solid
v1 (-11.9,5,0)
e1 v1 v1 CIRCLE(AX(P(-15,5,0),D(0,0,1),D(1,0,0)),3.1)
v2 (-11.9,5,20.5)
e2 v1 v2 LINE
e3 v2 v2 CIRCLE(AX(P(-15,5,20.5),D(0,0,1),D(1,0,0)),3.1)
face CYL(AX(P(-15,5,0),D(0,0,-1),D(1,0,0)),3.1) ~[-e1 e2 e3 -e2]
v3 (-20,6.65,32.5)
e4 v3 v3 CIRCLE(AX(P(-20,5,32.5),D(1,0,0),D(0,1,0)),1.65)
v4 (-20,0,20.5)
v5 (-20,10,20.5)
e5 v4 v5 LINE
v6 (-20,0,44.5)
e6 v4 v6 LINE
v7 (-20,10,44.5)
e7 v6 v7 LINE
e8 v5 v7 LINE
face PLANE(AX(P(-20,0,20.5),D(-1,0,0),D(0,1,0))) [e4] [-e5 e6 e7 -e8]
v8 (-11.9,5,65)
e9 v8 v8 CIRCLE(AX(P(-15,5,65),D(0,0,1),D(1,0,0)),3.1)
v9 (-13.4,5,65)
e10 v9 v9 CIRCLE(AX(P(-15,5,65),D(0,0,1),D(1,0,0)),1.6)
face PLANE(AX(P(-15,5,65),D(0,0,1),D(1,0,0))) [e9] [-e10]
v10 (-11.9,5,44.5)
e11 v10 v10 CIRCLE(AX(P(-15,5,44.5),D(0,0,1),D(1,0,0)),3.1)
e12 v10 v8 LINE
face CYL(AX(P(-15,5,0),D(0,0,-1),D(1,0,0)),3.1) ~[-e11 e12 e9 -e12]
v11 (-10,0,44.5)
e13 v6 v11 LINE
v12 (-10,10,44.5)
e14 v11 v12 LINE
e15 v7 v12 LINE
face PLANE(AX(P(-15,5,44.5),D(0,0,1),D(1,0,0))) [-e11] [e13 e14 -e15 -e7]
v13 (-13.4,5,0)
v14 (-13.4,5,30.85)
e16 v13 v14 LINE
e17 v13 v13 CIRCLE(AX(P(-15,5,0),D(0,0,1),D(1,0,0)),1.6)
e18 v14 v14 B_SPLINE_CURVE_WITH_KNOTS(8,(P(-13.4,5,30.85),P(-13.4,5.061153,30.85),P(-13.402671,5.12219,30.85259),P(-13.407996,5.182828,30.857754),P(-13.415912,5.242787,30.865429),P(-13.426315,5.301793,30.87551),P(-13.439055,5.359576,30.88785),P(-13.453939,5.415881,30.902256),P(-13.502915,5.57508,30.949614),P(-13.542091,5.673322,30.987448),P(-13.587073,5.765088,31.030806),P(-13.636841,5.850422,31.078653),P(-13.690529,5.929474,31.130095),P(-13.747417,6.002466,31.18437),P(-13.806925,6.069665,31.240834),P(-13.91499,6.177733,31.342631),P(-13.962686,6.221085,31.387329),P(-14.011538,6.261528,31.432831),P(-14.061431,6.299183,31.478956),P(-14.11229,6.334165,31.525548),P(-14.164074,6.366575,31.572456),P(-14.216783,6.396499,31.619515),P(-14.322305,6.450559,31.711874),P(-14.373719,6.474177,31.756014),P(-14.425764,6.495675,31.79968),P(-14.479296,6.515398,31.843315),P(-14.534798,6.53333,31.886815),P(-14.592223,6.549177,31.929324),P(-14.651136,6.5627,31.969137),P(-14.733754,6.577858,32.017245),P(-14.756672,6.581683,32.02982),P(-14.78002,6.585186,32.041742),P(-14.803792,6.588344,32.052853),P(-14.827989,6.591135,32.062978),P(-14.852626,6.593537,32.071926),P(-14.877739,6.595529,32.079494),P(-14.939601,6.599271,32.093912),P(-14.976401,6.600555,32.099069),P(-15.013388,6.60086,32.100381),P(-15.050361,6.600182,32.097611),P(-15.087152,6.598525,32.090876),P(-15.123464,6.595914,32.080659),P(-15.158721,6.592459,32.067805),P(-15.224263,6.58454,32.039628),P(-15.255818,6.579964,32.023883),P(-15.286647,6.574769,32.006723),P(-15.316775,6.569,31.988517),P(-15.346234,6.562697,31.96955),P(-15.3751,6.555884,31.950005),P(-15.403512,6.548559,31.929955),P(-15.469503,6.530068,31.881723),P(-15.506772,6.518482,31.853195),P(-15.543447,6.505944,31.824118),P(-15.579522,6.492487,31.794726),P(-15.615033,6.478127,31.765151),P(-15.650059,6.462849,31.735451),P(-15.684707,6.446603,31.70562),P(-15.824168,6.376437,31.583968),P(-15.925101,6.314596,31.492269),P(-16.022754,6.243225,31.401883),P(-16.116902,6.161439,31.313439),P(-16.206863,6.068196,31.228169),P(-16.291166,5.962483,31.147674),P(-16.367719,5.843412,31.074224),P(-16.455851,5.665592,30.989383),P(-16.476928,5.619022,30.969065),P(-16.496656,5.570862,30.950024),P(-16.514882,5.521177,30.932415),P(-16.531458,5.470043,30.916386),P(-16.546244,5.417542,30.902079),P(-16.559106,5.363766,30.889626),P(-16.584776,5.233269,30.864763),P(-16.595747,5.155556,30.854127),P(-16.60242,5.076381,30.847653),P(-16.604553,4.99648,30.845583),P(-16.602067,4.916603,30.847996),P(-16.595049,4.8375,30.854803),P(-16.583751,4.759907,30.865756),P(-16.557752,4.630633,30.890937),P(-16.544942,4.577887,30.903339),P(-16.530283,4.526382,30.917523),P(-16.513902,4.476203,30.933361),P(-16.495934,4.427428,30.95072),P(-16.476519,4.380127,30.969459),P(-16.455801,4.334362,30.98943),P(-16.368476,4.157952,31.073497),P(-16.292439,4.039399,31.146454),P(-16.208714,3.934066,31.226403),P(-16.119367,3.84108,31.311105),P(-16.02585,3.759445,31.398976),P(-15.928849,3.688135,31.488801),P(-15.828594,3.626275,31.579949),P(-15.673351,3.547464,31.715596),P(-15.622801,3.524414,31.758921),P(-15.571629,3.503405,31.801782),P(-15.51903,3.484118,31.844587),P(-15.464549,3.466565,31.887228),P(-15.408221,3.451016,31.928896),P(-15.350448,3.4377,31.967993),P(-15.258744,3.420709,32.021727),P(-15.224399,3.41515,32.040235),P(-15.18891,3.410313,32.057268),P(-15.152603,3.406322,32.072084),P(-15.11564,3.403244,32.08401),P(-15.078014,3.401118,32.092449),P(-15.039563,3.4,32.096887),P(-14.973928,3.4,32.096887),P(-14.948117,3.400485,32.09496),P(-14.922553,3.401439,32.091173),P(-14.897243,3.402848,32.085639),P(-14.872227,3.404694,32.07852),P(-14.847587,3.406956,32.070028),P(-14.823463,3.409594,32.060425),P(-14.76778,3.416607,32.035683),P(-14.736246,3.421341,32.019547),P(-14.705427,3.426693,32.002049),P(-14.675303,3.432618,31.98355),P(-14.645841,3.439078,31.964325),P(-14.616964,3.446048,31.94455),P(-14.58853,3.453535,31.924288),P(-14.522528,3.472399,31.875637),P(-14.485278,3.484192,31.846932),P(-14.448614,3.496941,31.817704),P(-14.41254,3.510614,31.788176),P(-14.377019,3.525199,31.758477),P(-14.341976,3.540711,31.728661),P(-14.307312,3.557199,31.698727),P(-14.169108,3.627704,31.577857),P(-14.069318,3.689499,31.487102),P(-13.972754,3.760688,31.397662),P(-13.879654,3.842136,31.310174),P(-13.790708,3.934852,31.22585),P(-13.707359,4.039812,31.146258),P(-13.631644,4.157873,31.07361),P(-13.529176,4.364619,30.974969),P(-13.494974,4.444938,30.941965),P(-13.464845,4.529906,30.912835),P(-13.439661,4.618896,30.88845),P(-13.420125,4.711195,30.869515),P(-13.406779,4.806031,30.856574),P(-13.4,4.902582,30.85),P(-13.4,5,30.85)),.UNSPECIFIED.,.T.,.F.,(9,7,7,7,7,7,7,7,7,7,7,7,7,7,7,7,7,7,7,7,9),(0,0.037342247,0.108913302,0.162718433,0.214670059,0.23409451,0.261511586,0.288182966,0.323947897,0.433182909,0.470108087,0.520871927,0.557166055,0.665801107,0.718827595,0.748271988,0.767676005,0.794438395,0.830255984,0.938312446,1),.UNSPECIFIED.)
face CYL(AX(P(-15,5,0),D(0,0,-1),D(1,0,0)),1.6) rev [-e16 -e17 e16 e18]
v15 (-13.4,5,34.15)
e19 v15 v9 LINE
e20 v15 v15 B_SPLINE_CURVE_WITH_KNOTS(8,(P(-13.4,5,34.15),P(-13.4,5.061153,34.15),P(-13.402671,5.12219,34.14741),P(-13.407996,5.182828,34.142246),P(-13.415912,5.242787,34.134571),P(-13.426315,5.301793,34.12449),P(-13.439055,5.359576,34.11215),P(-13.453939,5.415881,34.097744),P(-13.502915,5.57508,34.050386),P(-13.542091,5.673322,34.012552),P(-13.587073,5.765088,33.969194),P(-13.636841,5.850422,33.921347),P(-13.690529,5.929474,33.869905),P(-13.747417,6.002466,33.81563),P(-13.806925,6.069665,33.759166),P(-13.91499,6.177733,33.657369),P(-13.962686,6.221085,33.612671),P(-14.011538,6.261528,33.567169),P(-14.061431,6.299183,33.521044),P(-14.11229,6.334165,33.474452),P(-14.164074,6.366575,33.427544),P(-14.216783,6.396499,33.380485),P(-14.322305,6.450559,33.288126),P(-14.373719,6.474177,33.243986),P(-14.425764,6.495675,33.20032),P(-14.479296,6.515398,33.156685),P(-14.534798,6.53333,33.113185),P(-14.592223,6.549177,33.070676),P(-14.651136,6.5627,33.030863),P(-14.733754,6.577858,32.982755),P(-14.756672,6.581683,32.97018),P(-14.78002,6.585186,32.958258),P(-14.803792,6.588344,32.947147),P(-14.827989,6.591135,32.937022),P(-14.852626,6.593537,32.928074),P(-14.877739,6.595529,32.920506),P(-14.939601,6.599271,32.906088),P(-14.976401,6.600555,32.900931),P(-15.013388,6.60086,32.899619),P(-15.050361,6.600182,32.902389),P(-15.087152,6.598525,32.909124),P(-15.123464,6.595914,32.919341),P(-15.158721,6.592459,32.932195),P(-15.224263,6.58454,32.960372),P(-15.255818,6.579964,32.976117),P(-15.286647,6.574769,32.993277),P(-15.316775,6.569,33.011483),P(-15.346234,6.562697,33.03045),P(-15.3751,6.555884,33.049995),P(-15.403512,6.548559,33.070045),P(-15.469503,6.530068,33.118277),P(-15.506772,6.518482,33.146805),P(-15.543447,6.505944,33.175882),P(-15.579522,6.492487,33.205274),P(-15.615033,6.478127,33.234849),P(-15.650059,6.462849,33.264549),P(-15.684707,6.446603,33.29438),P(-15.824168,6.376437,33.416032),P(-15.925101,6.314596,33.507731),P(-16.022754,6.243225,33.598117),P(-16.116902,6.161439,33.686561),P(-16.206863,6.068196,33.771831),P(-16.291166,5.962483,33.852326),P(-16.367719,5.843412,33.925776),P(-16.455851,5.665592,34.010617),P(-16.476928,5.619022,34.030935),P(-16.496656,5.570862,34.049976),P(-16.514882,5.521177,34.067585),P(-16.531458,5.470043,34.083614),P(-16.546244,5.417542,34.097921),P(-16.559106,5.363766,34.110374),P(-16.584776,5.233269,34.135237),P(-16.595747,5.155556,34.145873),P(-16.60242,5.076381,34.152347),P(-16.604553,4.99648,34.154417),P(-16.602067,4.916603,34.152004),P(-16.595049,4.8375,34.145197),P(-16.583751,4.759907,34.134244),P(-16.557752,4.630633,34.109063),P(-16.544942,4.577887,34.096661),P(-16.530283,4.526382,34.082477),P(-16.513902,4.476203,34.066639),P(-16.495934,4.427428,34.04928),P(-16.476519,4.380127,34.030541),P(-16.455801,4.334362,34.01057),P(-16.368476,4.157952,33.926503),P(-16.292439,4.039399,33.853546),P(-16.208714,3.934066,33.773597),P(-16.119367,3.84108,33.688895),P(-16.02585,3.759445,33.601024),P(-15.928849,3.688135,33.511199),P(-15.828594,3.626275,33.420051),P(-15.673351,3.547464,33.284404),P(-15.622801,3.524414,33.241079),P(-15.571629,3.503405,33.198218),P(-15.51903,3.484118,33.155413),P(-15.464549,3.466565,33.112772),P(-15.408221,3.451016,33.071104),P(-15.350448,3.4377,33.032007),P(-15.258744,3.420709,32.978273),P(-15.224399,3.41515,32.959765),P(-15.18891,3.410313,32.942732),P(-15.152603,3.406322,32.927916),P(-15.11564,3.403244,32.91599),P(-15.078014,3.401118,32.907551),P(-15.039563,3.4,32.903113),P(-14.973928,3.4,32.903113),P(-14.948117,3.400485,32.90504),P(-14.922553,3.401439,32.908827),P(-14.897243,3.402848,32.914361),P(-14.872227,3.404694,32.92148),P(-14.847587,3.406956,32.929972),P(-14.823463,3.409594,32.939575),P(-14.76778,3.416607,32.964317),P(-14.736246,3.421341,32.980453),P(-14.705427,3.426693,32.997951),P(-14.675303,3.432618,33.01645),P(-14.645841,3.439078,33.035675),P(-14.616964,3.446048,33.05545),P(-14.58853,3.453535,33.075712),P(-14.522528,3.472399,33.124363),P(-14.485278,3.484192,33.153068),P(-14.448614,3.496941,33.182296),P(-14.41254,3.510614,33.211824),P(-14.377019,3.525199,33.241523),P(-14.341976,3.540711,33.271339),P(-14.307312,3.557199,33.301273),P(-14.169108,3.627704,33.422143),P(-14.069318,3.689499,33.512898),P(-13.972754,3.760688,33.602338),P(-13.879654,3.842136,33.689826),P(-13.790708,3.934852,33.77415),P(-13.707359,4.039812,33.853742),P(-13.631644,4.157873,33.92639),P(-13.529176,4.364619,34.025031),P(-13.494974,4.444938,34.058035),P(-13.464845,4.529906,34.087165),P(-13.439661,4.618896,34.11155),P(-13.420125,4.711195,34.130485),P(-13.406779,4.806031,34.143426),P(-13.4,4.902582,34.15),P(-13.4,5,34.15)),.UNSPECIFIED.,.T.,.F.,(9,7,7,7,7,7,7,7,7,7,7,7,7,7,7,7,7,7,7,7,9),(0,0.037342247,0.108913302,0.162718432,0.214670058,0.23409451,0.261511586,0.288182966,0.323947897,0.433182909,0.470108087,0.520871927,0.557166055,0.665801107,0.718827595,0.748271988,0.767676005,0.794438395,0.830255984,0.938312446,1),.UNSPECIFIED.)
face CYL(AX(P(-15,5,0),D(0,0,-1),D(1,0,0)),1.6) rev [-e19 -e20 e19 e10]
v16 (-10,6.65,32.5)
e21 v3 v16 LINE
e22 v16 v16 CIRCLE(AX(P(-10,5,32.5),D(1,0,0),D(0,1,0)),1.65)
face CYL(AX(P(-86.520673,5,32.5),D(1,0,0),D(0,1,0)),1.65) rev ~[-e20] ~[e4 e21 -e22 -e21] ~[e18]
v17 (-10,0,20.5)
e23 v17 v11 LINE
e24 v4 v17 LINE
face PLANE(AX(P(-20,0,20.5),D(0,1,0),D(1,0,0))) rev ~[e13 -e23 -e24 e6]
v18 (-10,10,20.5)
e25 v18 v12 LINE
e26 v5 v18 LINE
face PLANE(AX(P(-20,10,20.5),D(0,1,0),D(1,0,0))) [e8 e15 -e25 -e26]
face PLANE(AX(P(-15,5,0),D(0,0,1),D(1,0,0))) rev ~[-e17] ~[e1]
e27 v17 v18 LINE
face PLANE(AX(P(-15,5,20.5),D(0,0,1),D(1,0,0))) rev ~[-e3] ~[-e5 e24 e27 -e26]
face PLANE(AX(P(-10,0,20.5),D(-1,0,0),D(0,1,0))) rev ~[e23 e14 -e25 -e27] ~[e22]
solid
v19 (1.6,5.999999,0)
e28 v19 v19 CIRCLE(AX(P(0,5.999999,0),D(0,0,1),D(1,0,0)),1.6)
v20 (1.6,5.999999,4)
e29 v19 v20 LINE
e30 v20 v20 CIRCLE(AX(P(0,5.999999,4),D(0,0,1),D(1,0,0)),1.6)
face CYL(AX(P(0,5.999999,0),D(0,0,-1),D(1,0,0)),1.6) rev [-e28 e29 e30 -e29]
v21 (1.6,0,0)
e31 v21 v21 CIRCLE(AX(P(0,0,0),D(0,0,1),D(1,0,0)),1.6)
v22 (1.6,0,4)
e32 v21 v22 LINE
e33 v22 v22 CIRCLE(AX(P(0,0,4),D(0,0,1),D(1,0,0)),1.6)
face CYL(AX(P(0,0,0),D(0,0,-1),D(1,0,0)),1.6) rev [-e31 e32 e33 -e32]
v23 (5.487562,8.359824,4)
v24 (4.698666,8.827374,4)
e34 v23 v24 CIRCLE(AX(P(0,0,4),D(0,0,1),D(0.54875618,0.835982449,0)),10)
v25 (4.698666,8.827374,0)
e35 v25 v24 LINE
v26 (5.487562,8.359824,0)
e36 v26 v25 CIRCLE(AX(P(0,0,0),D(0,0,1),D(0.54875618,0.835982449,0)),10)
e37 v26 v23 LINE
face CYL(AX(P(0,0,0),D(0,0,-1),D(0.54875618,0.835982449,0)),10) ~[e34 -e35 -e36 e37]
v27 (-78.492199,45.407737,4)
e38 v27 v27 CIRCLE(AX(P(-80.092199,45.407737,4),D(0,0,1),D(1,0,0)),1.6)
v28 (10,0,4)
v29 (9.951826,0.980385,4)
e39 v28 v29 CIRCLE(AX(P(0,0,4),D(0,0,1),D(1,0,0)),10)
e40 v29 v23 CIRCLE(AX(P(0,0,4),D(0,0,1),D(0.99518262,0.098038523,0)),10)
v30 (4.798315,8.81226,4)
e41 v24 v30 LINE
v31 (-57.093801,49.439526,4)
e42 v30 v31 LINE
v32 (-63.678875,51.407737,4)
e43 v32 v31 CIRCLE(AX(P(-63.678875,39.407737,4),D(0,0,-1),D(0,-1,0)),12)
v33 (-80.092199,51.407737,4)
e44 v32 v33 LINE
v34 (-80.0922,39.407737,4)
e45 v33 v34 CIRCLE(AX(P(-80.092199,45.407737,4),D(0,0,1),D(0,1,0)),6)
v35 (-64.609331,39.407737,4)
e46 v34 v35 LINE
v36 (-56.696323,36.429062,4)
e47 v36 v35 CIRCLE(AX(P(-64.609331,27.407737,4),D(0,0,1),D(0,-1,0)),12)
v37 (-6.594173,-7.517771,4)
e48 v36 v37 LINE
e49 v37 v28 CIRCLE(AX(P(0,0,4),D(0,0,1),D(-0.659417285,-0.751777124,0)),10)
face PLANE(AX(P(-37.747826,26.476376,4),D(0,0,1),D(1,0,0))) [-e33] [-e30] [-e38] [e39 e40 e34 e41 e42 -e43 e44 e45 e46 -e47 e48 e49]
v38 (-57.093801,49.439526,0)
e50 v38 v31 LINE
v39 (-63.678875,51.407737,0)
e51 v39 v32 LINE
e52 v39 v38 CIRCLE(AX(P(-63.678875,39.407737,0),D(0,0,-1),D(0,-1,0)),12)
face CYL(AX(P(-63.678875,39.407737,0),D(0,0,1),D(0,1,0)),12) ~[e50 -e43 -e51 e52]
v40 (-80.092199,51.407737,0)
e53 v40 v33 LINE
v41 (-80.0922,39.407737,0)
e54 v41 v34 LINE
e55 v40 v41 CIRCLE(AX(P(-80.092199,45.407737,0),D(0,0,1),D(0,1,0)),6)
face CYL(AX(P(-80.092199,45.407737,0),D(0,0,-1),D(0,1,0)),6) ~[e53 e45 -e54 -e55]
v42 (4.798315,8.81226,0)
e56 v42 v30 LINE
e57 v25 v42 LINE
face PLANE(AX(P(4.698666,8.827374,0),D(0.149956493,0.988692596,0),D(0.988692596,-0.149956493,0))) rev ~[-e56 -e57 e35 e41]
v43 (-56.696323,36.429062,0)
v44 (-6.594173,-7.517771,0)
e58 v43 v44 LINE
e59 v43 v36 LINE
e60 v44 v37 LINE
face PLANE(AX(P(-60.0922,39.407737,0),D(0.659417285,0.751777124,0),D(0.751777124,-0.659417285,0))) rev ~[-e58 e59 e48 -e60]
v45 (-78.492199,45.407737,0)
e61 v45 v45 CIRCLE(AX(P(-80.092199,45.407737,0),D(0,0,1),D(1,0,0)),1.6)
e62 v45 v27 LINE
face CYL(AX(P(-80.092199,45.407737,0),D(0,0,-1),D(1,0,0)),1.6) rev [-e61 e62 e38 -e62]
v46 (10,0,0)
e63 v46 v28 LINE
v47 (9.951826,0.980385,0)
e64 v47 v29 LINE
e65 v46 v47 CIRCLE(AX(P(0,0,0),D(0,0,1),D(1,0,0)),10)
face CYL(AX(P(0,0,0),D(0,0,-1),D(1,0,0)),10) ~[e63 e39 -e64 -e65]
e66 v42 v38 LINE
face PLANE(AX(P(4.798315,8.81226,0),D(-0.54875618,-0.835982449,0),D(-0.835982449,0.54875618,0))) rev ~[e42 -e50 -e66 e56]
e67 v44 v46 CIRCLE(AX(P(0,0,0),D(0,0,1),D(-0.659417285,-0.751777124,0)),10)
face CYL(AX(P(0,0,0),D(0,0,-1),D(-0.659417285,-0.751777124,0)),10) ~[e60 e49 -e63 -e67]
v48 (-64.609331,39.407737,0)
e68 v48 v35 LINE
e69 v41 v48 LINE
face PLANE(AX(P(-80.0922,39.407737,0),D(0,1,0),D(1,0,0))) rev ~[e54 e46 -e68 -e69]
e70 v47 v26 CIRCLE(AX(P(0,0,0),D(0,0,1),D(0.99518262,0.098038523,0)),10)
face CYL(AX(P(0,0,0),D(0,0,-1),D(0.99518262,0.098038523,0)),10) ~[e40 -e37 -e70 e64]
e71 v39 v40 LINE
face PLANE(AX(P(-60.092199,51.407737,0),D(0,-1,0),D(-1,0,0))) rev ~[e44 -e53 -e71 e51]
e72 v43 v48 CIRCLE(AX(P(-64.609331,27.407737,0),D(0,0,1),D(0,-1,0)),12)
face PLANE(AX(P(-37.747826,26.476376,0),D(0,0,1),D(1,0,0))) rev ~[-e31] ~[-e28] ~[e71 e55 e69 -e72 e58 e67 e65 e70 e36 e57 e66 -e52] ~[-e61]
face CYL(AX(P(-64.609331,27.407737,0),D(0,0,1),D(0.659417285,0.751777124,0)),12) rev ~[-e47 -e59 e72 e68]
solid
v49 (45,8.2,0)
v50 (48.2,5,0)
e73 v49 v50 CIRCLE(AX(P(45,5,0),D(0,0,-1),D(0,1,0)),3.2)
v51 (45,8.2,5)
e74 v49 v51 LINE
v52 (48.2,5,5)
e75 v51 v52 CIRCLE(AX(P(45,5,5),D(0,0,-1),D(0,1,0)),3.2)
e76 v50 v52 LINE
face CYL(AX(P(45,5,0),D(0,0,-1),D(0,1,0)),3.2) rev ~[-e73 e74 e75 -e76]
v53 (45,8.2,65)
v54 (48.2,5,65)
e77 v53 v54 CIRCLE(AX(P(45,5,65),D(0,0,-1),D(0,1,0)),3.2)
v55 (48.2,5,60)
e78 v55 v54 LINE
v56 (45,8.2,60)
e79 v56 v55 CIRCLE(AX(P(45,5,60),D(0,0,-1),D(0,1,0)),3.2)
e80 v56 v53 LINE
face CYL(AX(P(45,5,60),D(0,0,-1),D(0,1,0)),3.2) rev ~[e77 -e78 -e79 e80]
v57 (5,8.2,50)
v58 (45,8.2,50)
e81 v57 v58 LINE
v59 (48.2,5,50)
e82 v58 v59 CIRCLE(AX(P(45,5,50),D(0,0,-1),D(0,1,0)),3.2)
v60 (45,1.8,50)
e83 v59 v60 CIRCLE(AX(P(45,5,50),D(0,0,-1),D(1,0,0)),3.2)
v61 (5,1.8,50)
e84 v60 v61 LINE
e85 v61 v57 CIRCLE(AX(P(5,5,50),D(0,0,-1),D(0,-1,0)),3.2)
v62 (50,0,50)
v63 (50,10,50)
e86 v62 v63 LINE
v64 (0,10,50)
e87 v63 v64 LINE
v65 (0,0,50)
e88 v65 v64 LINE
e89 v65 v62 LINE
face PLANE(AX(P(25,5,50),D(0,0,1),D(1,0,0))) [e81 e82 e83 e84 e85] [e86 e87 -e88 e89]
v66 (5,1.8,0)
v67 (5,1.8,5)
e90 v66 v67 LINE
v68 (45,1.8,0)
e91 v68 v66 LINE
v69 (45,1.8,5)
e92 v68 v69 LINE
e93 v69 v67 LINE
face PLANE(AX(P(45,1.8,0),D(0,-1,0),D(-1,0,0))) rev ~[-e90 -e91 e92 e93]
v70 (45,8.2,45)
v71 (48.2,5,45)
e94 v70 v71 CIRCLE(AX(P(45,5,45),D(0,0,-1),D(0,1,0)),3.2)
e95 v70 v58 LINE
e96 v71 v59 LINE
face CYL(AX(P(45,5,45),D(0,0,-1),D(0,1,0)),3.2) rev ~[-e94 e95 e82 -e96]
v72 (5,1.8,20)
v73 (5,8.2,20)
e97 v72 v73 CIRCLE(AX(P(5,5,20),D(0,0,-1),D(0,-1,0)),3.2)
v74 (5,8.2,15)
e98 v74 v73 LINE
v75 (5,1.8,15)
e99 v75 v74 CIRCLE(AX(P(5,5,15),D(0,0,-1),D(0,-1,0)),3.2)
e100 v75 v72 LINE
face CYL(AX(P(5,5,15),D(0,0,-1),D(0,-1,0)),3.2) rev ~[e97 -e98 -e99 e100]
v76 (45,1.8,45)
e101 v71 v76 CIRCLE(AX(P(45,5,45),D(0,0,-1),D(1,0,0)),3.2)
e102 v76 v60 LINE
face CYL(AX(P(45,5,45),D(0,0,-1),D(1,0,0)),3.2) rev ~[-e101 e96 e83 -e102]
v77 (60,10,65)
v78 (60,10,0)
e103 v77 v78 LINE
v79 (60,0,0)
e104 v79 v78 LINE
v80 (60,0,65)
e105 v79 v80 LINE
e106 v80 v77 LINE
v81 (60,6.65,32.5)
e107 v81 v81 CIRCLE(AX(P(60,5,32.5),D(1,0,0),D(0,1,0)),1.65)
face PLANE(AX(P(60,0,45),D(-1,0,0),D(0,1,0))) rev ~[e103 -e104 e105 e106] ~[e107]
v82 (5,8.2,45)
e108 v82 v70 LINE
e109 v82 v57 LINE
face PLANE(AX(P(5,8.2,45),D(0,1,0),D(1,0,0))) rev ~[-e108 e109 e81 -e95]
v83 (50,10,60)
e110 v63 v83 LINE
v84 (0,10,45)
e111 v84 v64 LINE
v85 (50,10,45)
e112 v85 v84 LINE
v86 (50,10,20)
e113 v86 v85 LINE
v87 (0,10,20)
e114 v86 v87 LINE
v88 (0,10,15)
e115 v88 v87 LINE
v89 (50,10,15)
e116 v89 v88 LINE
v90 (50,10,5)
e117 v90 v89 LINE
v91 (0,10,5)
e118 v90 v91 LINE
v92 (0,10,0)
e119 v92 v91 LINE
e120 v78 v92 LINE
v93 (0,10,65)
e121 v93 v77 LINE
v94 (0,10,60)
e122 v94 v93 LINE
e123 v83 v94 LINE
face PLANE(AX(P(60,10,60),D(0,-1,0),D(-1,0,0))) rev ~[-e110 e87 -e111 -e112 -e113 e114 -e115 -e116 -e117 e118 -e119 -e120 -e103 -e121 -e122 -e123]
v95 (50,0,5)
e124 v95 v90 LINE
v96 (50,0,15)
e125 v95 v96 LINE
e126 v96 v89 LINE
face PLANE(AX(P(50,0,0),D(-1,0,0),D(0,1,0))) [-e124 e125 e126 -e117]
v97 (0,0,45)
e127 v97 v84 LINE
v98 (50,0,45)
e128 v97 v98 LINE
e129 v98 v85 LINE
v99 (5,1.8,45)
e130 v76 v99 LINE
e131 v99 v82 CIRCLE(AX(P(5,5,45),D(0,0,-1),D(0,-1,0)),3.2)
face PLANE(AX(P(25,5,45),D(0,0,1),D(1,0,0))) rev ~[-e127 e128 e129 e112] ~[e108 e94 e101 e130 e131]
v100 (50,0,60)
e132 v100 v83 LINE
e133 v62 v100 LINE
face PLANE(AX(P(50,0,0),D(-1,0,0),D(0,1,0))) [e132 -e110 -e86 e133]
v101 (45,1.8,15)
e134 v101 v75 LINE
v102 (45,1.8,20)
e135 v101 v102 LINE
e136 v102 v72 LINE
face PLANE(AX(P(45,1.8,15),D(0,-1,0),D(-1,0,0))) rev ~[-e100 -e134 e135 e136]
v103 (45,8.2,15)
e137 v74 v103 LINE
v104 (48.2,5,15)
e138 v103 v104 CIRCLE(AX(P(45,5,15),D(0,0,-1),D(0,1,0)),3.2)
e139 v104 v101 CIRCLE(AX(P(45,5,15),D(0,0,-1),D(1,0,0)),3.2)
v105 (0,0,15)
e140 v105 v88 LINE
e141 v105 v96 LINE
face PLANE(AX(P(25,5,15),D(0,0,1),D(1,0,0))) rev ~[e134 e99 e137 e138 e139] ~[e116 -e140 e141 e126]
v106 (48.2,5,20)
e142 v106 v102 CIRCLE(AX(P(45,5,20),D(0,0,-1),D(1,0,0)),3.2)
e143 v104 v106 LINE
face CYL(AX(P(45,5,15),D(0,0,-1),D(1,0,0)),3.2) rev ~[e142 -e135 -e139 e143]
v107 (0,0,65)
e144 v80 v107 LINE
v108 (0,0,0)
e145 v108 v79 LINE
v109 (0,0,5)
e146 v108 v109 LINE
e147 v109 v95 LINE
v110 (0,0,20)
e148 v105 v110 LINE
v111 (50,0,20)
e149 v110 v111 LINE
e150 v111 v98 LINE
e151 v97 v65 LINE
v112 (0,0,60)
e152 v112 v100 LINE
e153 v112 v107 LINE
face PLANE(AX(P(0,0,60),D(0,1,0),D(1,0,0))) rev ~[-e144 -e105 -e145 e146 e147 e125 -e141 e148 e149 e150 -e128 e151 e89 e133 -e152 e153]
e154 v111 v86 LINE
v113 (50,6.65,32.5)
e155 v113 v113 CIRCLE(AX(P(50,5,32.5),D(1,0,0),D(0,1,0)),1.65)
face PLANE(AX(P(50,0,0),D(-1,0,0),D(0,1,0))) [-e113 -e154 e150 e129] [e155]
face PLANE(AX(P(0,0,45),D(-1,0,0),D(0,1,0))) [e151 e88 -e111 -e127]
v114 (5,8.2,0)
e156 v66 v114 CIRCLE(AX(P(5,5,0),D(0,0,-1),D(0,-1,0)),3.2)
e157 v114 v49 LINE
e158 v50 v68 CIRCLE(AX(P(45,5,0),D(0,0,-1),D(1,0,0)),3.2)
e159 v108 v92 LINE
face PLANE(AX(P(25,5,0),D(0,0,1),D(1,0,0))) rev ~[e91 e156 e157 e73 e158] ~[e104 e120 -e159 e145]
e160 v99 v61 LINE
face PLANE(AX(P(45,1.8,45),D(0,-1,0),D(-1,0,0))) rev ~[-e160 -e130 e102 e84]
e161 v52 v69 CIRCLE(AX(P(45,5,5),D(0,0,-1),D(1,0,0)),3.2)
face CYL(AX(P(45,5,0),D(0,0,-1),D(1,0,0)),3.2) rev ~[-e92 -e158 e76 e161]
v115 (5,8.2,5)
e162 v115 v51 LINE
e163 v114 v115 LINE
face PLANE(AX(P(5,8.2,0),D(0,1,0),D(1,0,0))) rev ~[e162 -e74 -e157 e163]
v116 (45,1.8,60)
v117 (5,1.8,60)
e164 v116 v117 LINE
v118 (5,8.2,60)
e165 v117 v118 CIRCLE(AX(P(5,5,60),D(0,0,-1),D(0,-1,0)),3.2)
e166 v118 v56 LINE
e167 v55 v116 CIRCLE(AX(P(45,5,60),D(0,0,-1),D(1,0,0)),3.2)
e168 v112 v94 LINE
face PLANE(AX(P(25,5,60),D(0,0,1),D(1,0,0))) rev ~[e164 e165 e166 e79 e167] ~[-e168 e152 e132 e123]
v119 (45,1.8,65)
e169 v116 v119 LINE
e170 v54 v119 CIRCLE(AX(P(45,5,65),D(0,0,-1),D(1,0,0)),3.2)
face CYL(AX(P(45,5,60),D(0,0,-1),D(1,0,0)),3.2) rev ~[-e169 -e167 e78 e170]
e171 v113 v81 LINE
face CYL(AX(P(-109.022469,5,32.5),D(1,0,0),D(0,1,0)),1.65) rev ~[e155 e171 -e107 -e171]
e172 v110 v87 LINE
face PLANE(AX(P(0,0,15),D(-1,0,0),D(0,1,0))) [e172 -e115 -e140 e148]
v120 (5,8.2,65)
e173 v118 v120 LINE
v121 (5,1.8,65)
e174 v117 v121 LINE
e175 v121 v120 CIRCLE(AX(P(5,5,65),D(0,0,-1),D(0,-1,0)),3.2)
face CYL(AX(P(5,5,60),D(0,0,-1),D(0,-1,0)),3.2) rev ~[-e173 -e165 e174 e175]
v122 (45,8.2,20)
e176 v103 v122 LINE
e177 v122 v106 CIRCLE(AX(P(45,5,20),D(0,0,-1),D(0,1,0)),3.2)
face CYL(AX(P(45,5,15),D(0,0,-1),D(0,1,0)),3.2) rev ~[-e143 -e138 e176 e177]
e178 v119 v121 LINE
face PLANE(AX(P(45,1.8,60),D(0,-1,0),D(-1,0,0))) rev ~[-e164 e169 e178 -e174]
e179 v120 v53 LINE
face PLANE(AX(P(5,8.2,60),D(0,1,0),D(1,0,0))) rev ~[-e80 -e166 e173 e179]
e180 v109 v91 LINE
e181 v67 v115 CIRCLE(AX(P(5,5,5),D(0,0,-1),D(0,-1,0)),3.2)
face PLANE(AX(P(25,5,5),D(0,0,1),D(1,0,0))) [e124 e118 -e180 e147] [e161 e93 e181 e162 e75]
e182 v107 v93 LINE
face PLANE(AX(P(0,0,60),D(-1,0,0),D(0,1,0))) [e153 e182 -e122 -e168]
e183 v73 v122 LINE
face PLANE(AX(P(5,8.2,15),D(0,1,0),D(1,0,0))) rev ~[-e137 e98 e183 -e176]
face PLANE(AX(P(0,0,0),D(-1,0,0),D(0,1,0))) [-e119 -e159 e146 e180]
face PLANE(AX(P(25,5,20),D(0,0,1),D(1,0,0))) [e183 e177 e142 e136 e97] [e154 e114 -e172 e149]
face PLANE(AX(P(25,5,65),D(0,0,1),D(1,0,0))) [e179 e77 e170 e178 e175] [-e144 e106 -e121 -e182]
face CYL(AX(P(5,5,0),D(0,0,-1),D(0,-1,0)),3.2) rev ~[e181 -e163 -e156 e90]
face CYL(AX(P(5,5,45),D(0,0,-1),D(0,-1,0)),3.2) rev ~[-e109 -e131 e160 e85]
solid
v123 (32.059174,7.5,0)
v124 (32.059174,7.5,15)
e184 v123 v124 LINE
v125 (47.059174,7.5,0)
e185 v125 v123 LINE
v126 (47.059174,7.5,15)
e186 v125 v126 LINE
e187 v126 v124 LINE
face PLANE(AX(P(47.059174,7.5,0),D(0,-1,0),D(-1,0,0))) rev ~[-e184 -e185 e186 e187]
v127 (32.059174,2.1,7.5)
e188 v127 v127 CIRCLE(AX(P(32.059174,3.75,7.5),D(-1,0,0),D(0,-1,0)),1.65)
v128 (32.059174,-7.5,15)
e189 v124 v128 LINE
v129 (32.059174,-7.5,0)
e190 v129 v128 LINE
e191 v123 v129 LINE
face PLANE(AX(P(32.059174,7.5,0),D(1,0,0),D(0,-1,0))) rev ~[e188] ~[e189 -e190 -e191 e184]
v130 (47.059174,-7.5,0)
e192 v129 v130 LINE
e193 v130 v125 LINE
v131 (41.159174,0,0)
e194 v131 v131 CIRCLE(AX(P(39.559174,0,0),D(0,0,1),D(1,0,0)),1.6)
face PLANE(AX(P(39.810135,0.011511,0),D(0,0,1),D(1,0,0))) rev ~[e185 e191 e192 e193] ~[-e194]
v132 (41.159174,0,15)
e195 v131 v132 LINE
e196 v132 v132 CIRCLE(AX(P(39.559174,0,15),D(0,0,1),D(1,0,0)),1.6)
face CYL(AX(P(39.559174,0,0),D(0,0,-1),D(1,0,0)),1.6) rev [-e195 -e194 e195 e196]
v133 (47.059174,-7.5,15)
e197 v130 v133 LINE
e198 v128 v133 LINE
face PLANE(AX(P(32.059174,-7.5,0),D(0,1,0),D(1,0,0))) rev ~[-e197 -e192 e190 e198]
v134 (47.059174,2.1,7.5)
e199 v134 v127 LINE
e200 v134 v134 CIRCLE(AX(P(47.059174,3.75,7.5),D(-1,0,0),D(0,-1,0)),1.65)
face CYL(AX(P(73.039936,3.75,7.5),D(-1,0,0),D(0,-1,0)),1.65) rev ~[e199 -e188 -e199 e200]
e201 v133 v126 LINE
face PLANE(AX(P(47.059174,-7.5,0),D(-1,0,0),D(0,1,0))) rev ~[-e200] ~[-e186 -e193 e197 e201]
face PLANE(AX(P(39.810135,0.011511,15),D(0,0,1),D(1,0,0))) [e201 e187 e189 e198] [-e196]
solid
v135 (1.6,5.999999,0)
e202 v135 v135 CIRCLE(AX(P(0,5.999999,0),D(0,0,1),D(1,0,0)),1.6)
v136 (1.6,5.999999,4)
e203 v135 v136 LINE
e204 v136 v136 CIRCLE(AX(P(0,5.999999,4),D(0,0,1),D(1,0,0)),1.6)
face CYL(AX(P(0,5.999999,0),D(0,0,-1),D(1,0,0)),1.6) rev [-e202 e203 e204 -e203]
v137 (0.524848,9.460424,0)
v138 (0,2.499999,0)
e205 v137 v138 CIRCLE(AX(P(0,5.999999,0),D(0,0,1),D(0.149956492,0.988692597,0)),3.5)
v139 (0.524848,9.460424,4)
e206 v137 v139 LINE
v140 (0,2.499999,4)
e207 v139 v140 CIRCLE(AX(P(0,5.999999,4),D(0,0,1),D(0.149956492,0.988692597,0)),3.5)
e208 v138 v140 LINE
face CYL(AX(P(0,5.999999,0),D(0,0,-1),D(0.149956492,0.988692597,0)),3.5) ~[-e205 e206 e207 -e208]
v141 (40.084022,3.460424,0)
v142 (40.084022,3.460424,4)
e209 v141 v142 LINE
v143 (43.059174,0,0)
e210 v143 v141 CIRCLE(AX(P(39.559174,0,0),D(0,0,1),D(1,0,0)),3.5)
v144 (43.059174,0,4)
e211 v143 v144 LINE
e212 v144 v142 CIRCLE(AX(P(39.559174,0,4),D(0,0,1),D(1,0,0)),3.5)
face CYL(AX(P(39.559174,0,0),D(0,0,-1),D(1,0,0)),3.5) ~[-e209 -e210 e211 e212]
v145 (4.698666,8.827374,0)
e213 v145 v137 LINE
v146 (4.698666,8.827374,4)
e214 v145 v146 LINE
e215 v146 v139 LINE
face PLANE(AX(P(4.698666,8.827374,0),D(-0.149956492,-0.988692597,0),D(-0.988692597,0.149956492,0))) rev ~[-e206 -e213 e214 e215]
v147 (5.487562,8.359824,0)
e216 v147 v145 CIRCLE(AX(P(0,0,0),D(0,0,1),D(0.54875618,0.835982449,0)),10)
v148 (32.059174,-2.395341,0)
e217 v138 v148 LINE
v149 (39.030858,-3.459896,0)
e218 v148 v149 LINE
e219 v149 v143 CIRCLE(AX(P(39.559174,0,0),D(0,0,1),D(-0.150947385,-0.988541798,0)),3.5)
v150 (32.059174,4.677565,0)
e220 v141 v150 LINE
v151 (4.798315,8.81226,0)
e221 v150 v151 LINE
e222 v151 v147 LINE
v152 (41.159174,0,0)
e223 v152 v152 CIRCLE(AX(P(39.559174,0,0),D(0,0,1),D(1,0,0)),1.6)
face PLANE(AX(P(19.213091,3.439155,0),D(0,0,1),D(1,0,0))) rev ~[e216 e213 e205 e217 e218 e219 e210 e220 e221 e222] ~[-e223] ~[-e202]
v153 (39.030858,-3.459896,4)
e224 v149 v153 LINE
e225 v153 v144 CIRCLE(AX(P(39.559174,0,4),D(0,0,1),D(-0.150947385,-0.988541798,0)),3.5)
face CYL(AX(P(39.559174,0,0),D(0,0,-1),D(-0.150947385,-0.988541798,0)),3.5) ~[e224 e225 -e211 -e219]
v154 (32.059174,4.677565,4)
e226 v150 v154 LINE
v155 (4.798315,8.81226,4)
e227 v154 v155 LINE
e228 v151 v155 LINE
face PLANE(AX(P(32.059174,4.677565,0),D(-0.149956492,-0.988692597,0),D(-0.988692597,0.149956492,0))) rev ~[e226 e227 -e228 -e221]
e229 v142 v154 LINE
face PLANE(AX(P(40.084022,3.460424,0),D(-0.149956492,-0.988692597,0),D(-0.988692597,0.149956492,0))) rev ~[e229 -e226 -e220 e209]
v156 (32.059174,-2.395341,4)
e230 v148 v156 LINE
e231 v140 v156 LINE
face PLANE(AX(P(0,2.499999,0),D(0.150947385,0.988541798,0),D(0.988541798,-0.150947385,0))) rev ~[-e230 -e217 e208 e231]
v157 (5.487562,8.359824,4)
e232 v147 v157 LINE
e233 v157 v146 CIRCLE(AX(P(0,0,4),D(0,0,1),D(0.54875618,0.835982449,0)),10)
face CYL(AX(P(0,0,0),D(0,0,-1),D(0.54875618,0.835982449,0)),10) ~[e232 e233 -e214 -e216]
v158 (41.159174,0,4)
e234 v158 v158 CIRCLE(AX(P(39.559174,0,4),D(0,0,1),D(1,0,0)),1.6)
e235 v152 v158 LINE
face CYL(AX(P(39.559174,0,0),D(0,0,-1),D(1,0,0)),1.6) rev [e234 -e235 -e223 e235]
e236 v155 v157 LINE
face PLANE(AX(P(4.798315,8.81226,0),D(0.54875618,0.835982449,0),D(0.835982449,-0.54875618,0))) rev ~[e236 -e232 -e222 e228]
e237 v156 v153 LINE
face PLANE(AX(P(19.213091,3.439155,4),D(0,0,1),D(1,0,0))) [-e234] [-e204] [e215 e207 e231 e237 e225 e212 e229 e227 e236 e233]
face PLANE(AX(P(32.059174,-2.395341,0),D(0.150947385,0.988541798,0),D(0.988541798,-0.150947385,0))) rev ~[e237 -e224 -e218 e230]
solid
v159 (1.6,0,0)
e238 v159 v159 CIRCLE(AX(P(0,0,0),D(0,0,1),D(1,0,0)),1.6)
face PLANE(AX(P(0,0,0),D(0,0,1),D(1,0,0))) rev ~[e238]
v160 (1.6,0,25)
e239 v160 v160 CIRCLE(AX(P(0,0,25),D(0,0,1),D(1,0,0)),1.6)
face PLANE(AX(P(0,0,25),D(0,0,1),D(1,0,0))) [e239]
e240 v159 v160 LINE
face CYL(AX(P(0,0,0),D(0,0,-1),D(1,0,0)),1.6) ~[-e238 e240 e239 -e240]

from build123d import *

# Parameters (mm, degrees)
F0_W      = 10
F0_H      = 10
F1_DEPTH  = 65
F0_W_2    = 50
F2_DEPTH  = 5
F3_START  = 15
F3_DEPTH  = 5
F4_START  = 45
F4_DEPTH  = 5
F5_START  = 60
F5_DEPTH  = 5
F0_R      = 3.1
F0_R_2    = 1.6
F6_DEPTH  = 65
F7_START  = 20.5
F7_DEPTH  = 24
F9_D      = 3.3
F9_2_D    = 3.3
F10_R     = 1.6
F11_DEPTH = 4
F12_DEPTH = 4
F13_DEPTH = 15
F15_D     = 3.3
F16_DEPTH = 25
F17_R     = 12


with BuildPart() as f1:
    # F0 (on Top) → F1 (new body)
    with BuildSketch(Plane.XY):
        with Locations((55, 5)):
            Rectangle(F0_W, F0_H)
    extrude(amount=F1_DEPTH)

    # F0 (on Top) → F2 (join)
    with BuildSketch(Plane.XY):
        with Locations((25, 5)):
            Rectangle(F0_W_2, F0_H)
        with BuildLine():
            ThreePointArc((5, 1.7999998882), (1.8, 4.9999998882), (5, 8.1999998882))
            Line((5, 8.1999998882), (45, 8.1999998882))
            ThreePointArc((45, 8.1999998882), (47.2627416998, 7.262741588), (48.2, 4.9999998882))
            ThreePointArc((48.2, 4.9999998882), (47.2627416998, 2.7372581884), (45, 1.7999998882))
            Line((45, 1.7999998882), (5, 1.7999998882))
        make_face(mode=Mode.SUBTRACT)
        with Locations((55, 5)):
            Rectangle(F0_W, F0_H)
    extrude(amount=F2_DEPTH)

    # F0 (on Top) → F3 (join)
    with BuildSketch(Plane.XY.offset(F3_START)):
        with Locations((25, 5)):
            Rectangle(F0_W_2, F0_H)
        with BuildLine():
            ThreePointArc((5, 1.7999998882), (1.8, 4.9999998882), (5, 8.1999998882))
            Line((5, 8.1999998882), (45, 8.1999998882))
            ThreePointArc((45, 8.1999998882), (47.2627416998, 7.262741588), (48.2, 4.9999998882))
            ThreePointArc((48.2, 4.9999998882), (47.2627416998, 2.7372581884), (45, 1.7999998882))
            Line((45, 1.7999998882), (5, 1.7999998882))
        make_face(mode=Mode.SUBTRACT)
        with Locations((55, 5)):
            Rectangle(F0_W, F0_H)
    extrude(amount=F3_DEPTH)

    # F0 (on Top) → F4 (join)
    with BuildSketch(Plane.XY.offset(F4_START)):
        with Locations((25, 5)):
            Rectangle(F0_W_2, F0_H)
        with BuildLine():
            ThreePointArc((5, 1.7999998882), (1.8, 4.9999998882), (5, 8.1999998882))
            Line((5, 8.1999998882), (45, 8.1999998882))
            ThreePointArc((45, 8.1999998882), (47.2627416998, 7.262741588), (48.2, 4.9999998882))
            ThreePointArc((48.2, 4.9999998882), (47.2627416998, 2.7372581884), (45, 1.7999998882))
            Line((45, 1.7999998882), (5, 1.7999998882))
        make_face(mode=Mode.SUBTRACT)
        with Locations((55, 5)):
            Rectangle(F0_W, F0_H)
    extrude(amount=F4_DEPTH)

    # F0 (on Top) → F5 (join)
    with BuildSketch(Plane.XY.offset(F5_START)):
        with Locations((25, 5)):
            Rectangle(F0_W_2, F0_H)
        with BuildLine():
            ThreePointArc((5, 1.7999998882), (1.8, 4.9999998882), (5, 8.1999998882))
            Line((5, 8.1999998882), (45, 8.1999998882))
            ThreePointArc((45, 8.1999998882), (47.2627416998, 7.262741588), (48.2, 4.9999998882))
            ThreePointArc((48.2, 4.9999998882), (47.2627416998, 2.7372581884), (45, 1.7999998882))
            Line((45, 1.7999998882), (5, 1.7999998882))
        make_face(mode=Mode.SUBTRACT)
        with Locations((55, 5)):
            Rectangle(F0_W, F0_H)
    extrude(amount=F5_DEPTH)

    # F9 (through all)
    with Locations(Plane(origin=(-20, 0, 0), x_dir=(0, -1, 0), z_dir=(-1, 0, 0))):
        with Locations((-4.9999997765, 32.5)):
            Hole(F9_D / 2)


with BuildPart() as f6:
    # F0 (on Top) → F6 (new body)
    with BuildSketch(Plane.XY):
        with Locations((-15, 4.9999998882)):
            Circle(F0_R)
        with Locations((-15, 4.9999998882)):
            Circle(F0_R_2, mode=Mode.SUBTRACT)
    extrude(amount=F6_DEPTH)

    # F0 (on Top) → F7 (join)
    with BuildSketch(Plane.XY.offset(F7_START)):
        with Locations((-15, 4.9999997765)):
            Rectangle(F0_W, F0_H)
        with Locations((-15, 4.9999998882)):
            Circle(F0_R, mode=Mode.SUBTRACT)
    extrude(amount=F7_DEPTH)

    # F9#2 (through all)
    with Locations(Plane(origin=(-20, 0, 0), x_dir=(0, -1, 0), z_dir=(-1, 0, 0))):
        with Locations((-4.9999997765, 32.5)):
            Hole(F9_2_D / 2)


with BuildPart() as f11:
    # F10 (on Top) → F11 (new body)
    with BuildSketch(Plane.XY):
        with BuildLine():
            Line((-60.0921995021, 39.4077368427), (-6.5941728525, -7.5177712383))
            ThreePointArc((-6.5941728525, -7.5177712383), (-8.2273434868, 5.6842606512), (4.6986663284, 8.8273741699))
            Line((4.6986663284, 8.8273741699), (4.798315092, 8.8122602921))
            Line((4.798315092, 8.8122602921), (-60.0921993244, 51.4077368427))
            Line((-60.0921993244, 51.4077368427), (-80.0921993244, 51.4077368427))
            ThreePointArc((-80.0921993244, 51.4077368427), (-75.8495586373, 49.6503775298), (-74.0921993244, 45.4077368427))
            ThreePointArc((-74.0921993244, 45.4077368427), (-75.8495587001, 41.1650960928), (-80.0921995021, 39.4077368427))
            Line((-80.0921995021, 39.4077368427), (-60.0921995021, 39.4077368427))
        make_face()
        with BuildLine():
            ThreePointArc((-80.0921993244, 51.4077368427), (-86.0921993244, 45.4077369316), (-80.0921995021, 39.4077368427))
            ThreePointArc((-80.0921995021, 39.4077368427), (-75.8495587001, 41.1650960928), (-74.0921993244, 45.4077368427))
            ThreePointArc((-74.0921993244, 45.4077368427), (-75.8495586373, 49.6503775298), (-80.0921993244, 51.4077368427))
        make_face()
        with Locations((-80.0921993244, 45.4077368427)):
            Circle(F10_R, mode=Mode.SUBTRACT)
        with BuildLine():
            ThreePointArc((4.6986663284, 8.8273741699), (-8.2273434868, 5.6842606512), (-6.5941728525, -7.5177712383))
            ThreePointArc((-6.5941728525, -7.5177712383), (4.1266373402, -9.1088344075), (10, 0))
            ThreePointArc((10, 0), (9.98794929, 0.4907840463), (9.951826204, 0.9803852334))
            Line((9.951826204, 0.9803852334), (0, 2.4999994226))
            ThreePointArc((0, 2.4999994226), (-3.4900919979, 6.2631682772), (0.524847722, 9.4604235106))
            Line((0.524847722, 9.4604235106), (4.6986663284, 8.8273741699))
        make_face()
        Circle(F10_R, mode=Mode.SUBTRACT)
        with BuildLine():
            ThreePointArc((5.487561799, 8.3598244899), (5.0984763941, 8.6026471774), (4.6986663284, 8.8273741699))
            Line((4.6986663284, 8.8273741699), (0.524847722, 9.4604235106))
            ThreePointArc((0.524847722, 9.4604235106), (2.6539562004, 8.2817786596), (3.5, 5.9999994226))
            ThreePointArc((3.5, 5.9999994226), (2.4748737342, 3.5251256884), (0, 2.4999994226))
            Line((0, 2.4999994226), (9.951826204, 0.9803852334))
            ThreePointArc((9.951826204, 0.9803852334), (8.5561502097, 5.1761272771), (5.487561799, 8.3598244899))
        make_face()
        with BuildLine():
            ThreePointArc((3.5, 5.9999994226), (2.6539562004, 8.2817786596), (0.524847722, 9.4604235106))
            ThreePointArc((0.524847722, 9.4604235106), (-3.4900919979, 6.2631682772), (0, 2.4999994226))
            ThreePointArc((0, 2.4999994226), (2.4748737342, 3.5251256884), (3.5, 5.9999994226))
        make_face()
        with Locations((0, 5.9999994226)):
            Circle(F10_R, mode=Mode.SUBTRACT)
    extrude(amount=F11_DEPTH)

    # F17
    f17_edges = [f11.edges().sort_by_distance(p)[0] for p in [
        (-60.092199, 51.407737, 2),
        (-60.0922, 39.407737, 2),
    ]]
    fillet(f17_edges, radius=F17_R)


with BuildPart() as f12:
    # F10 (on Top) → F12 (new body)
    with BuildSketch(Plane.XY):
        with BuildLine():
            ThreePointArc((5.487561799, 8.3598244899), (8.5561502097, 5.1761272771), (9.951826204, 0.9803852334))
            Line((9.951826204, 0.9803852334), (32.059174329, -2.3953409105))
            Line((32.059174329, -2.3953409105), (32.059174329, 4.6775648022))
            Line((32.059174329, 4.6775648022), (4.798315092, 8.8122602921))
            Line((4.798315092, 8.8122602921), (5.487561799, 8.3598244899))
        make_face()
        with BuildLine():
            ThreePointArc((5.487561799, 8.3598244899), (5.0984763941, 8.6026471774), (4.6986663284, 8.8273741699))
            Line((4.6986663284, 8.8273741699), (0.524847722, 9.4604235106))
            ThreePointArc((0.524847722, 9.4604235106), (2.6539562004, 8.2817786596), (3.5, 5.9999994226))
            ThreePointArc((3.5, 5.9999994226), (2.4748737342, 3.5251256884), (0, 2.4999994226))
            Line((0, 2.4999994226), (9.951826204, 0.9803852334))
            ThreePointArc((9.951826204, 0.9803852334), (8.5561502097, 5.1761272771), (5.487561799, 8.3598244899))
        make_face()
        with BuildLine():
            ThreePointArc((3.5, 5.9999994226), (2.6539562004, 8.2817786596), (0.524847722, 9.4604235106))
            ThreePointArc((0.524847722, 9.4604235106), (-3.4900919979, 6.2631682772), (0, 2.4999994226))
            ThreePointArc((0, 2.4999994226), (2.4748737342, 3.5251256884), (3.5, 5.9999994226))
        make_face()
        with Locations((0, 5.9999994226)):
            Circle(F10_R, mode=Mode.SUBTRACT)
        with BuildLine():
            Line((32.059174329, 4.6775648022), (32.059174329, -2.3953409105))
            Line((32.059174329, -2.3953409105), (39.0308584809, -3.4598962939))
            ThreePointArc((39.0308584809, -3.4598962939), (36.0990137036, 0.5265818512), (40.084022051, 3.460424088))
            Line((40.084022051, 3.460424088), (32.059174329, 4.6775648022))
        make_face()
        with BuildLine():
            ThreePointArc((40.084022051, 3.460424088), (36.0990137036, 0.5265818512), (39.0308584809, -3.4598962939))
            ThreePointArc((39.0308584809, -3.4598962939), (41.8396232466, -2.6550993831), (43.059174329, 0))
            ThreePointArc((43.059174329, 0), (42.2131305294, 2.281779237), (40.084022051, 3.460424088))
        make_face()
        with Locations((39.559174329, 0)):
            Circle(F10_R, mode=Mode.SUBTRACT)
    extrude(amount=F12_DEPTH)


with BuildPart() as f13:
    # F10 (on Top) → F13 (new body)
    with BuildSketch(Plane.XY):
        with BuildLine():
            Line((39.0308584809, -3.4598962939), (32.059174329, -2.3953409105))
            Line((32.059174329, -2.3953409105), (32.059174329, -7.5))
            Line((32.059174329, -7.5), (47.059174329, -7.5))
            Line((47.059174329, -7.5), (47.059174329, 7.5))
            Line((47.059174329, 7.5), (32.059174329, 7.5))
            Line((32.059174329, 7.5), (32.059174329, 4.6775648022))
            Line((32.059174329, 4.6775648022), (40.084022051, 3.460424088))
            ThreePointArc((40.084022051, 3.460424088), (42.2131305294, 2.281779237), (43.059174329, 0))
            ThreePointArc((43.059174329, 0), (41.8396232466, -2.6550993831), (39.0308584809, -3.4598962939))
        make_face()
        with BuildLine():
            Line((32.059174329, 4.6775648022), (32.059174329, -2.3953409105))
            Line((32.059174329, -2.3953409105), (39.0308584809, -3.4598962939))
            ThreePointArc((39.0308584809, -3.4598962939), (36.0990137036, 0.5265818512), (40.084022051, 3.460424088))
            Line((40.084022051, 3.460424088), (32.059174329, 4.6775648022))
        make_face()
        with BuildLine():
            ThreePointArc((40.084022051, 3.460424088), (36.0990137036, 0.5265818512), (39.0308584809, -3.4598962939))
            ThreePointArc((39.0308584809, -3.4598962939), (41.8396232466, -2.6550993831), (43.059174329, 0))
            ThreePointArc((43.059174329, 0), (42.2131305294, 2.281779237), (40.084022051, 3.460424088))
        make_face()
        with Locations((39.559174329, 0)):
            Circle(F10_R, mode=Mode.SUBTRACT)
    extrude(amount=F13_DEPTH)

    # F15 (through all)
    with Locations(Plane.YZ.offset(47.059174329)):
        with Locations((3.75, 7.5)):
            Hole(F15_D / 2)


with BuildPart() as f16:
    # F10 (on Top) → F16 (new body)
    with BuildSketch(Plane.XY):
        Circle(F10_R)
    extrude(amount=F16_DEPTH)


solid = Compound([f1.part, f6.part, f11.part, f12.part, f13.part, f16.part])
